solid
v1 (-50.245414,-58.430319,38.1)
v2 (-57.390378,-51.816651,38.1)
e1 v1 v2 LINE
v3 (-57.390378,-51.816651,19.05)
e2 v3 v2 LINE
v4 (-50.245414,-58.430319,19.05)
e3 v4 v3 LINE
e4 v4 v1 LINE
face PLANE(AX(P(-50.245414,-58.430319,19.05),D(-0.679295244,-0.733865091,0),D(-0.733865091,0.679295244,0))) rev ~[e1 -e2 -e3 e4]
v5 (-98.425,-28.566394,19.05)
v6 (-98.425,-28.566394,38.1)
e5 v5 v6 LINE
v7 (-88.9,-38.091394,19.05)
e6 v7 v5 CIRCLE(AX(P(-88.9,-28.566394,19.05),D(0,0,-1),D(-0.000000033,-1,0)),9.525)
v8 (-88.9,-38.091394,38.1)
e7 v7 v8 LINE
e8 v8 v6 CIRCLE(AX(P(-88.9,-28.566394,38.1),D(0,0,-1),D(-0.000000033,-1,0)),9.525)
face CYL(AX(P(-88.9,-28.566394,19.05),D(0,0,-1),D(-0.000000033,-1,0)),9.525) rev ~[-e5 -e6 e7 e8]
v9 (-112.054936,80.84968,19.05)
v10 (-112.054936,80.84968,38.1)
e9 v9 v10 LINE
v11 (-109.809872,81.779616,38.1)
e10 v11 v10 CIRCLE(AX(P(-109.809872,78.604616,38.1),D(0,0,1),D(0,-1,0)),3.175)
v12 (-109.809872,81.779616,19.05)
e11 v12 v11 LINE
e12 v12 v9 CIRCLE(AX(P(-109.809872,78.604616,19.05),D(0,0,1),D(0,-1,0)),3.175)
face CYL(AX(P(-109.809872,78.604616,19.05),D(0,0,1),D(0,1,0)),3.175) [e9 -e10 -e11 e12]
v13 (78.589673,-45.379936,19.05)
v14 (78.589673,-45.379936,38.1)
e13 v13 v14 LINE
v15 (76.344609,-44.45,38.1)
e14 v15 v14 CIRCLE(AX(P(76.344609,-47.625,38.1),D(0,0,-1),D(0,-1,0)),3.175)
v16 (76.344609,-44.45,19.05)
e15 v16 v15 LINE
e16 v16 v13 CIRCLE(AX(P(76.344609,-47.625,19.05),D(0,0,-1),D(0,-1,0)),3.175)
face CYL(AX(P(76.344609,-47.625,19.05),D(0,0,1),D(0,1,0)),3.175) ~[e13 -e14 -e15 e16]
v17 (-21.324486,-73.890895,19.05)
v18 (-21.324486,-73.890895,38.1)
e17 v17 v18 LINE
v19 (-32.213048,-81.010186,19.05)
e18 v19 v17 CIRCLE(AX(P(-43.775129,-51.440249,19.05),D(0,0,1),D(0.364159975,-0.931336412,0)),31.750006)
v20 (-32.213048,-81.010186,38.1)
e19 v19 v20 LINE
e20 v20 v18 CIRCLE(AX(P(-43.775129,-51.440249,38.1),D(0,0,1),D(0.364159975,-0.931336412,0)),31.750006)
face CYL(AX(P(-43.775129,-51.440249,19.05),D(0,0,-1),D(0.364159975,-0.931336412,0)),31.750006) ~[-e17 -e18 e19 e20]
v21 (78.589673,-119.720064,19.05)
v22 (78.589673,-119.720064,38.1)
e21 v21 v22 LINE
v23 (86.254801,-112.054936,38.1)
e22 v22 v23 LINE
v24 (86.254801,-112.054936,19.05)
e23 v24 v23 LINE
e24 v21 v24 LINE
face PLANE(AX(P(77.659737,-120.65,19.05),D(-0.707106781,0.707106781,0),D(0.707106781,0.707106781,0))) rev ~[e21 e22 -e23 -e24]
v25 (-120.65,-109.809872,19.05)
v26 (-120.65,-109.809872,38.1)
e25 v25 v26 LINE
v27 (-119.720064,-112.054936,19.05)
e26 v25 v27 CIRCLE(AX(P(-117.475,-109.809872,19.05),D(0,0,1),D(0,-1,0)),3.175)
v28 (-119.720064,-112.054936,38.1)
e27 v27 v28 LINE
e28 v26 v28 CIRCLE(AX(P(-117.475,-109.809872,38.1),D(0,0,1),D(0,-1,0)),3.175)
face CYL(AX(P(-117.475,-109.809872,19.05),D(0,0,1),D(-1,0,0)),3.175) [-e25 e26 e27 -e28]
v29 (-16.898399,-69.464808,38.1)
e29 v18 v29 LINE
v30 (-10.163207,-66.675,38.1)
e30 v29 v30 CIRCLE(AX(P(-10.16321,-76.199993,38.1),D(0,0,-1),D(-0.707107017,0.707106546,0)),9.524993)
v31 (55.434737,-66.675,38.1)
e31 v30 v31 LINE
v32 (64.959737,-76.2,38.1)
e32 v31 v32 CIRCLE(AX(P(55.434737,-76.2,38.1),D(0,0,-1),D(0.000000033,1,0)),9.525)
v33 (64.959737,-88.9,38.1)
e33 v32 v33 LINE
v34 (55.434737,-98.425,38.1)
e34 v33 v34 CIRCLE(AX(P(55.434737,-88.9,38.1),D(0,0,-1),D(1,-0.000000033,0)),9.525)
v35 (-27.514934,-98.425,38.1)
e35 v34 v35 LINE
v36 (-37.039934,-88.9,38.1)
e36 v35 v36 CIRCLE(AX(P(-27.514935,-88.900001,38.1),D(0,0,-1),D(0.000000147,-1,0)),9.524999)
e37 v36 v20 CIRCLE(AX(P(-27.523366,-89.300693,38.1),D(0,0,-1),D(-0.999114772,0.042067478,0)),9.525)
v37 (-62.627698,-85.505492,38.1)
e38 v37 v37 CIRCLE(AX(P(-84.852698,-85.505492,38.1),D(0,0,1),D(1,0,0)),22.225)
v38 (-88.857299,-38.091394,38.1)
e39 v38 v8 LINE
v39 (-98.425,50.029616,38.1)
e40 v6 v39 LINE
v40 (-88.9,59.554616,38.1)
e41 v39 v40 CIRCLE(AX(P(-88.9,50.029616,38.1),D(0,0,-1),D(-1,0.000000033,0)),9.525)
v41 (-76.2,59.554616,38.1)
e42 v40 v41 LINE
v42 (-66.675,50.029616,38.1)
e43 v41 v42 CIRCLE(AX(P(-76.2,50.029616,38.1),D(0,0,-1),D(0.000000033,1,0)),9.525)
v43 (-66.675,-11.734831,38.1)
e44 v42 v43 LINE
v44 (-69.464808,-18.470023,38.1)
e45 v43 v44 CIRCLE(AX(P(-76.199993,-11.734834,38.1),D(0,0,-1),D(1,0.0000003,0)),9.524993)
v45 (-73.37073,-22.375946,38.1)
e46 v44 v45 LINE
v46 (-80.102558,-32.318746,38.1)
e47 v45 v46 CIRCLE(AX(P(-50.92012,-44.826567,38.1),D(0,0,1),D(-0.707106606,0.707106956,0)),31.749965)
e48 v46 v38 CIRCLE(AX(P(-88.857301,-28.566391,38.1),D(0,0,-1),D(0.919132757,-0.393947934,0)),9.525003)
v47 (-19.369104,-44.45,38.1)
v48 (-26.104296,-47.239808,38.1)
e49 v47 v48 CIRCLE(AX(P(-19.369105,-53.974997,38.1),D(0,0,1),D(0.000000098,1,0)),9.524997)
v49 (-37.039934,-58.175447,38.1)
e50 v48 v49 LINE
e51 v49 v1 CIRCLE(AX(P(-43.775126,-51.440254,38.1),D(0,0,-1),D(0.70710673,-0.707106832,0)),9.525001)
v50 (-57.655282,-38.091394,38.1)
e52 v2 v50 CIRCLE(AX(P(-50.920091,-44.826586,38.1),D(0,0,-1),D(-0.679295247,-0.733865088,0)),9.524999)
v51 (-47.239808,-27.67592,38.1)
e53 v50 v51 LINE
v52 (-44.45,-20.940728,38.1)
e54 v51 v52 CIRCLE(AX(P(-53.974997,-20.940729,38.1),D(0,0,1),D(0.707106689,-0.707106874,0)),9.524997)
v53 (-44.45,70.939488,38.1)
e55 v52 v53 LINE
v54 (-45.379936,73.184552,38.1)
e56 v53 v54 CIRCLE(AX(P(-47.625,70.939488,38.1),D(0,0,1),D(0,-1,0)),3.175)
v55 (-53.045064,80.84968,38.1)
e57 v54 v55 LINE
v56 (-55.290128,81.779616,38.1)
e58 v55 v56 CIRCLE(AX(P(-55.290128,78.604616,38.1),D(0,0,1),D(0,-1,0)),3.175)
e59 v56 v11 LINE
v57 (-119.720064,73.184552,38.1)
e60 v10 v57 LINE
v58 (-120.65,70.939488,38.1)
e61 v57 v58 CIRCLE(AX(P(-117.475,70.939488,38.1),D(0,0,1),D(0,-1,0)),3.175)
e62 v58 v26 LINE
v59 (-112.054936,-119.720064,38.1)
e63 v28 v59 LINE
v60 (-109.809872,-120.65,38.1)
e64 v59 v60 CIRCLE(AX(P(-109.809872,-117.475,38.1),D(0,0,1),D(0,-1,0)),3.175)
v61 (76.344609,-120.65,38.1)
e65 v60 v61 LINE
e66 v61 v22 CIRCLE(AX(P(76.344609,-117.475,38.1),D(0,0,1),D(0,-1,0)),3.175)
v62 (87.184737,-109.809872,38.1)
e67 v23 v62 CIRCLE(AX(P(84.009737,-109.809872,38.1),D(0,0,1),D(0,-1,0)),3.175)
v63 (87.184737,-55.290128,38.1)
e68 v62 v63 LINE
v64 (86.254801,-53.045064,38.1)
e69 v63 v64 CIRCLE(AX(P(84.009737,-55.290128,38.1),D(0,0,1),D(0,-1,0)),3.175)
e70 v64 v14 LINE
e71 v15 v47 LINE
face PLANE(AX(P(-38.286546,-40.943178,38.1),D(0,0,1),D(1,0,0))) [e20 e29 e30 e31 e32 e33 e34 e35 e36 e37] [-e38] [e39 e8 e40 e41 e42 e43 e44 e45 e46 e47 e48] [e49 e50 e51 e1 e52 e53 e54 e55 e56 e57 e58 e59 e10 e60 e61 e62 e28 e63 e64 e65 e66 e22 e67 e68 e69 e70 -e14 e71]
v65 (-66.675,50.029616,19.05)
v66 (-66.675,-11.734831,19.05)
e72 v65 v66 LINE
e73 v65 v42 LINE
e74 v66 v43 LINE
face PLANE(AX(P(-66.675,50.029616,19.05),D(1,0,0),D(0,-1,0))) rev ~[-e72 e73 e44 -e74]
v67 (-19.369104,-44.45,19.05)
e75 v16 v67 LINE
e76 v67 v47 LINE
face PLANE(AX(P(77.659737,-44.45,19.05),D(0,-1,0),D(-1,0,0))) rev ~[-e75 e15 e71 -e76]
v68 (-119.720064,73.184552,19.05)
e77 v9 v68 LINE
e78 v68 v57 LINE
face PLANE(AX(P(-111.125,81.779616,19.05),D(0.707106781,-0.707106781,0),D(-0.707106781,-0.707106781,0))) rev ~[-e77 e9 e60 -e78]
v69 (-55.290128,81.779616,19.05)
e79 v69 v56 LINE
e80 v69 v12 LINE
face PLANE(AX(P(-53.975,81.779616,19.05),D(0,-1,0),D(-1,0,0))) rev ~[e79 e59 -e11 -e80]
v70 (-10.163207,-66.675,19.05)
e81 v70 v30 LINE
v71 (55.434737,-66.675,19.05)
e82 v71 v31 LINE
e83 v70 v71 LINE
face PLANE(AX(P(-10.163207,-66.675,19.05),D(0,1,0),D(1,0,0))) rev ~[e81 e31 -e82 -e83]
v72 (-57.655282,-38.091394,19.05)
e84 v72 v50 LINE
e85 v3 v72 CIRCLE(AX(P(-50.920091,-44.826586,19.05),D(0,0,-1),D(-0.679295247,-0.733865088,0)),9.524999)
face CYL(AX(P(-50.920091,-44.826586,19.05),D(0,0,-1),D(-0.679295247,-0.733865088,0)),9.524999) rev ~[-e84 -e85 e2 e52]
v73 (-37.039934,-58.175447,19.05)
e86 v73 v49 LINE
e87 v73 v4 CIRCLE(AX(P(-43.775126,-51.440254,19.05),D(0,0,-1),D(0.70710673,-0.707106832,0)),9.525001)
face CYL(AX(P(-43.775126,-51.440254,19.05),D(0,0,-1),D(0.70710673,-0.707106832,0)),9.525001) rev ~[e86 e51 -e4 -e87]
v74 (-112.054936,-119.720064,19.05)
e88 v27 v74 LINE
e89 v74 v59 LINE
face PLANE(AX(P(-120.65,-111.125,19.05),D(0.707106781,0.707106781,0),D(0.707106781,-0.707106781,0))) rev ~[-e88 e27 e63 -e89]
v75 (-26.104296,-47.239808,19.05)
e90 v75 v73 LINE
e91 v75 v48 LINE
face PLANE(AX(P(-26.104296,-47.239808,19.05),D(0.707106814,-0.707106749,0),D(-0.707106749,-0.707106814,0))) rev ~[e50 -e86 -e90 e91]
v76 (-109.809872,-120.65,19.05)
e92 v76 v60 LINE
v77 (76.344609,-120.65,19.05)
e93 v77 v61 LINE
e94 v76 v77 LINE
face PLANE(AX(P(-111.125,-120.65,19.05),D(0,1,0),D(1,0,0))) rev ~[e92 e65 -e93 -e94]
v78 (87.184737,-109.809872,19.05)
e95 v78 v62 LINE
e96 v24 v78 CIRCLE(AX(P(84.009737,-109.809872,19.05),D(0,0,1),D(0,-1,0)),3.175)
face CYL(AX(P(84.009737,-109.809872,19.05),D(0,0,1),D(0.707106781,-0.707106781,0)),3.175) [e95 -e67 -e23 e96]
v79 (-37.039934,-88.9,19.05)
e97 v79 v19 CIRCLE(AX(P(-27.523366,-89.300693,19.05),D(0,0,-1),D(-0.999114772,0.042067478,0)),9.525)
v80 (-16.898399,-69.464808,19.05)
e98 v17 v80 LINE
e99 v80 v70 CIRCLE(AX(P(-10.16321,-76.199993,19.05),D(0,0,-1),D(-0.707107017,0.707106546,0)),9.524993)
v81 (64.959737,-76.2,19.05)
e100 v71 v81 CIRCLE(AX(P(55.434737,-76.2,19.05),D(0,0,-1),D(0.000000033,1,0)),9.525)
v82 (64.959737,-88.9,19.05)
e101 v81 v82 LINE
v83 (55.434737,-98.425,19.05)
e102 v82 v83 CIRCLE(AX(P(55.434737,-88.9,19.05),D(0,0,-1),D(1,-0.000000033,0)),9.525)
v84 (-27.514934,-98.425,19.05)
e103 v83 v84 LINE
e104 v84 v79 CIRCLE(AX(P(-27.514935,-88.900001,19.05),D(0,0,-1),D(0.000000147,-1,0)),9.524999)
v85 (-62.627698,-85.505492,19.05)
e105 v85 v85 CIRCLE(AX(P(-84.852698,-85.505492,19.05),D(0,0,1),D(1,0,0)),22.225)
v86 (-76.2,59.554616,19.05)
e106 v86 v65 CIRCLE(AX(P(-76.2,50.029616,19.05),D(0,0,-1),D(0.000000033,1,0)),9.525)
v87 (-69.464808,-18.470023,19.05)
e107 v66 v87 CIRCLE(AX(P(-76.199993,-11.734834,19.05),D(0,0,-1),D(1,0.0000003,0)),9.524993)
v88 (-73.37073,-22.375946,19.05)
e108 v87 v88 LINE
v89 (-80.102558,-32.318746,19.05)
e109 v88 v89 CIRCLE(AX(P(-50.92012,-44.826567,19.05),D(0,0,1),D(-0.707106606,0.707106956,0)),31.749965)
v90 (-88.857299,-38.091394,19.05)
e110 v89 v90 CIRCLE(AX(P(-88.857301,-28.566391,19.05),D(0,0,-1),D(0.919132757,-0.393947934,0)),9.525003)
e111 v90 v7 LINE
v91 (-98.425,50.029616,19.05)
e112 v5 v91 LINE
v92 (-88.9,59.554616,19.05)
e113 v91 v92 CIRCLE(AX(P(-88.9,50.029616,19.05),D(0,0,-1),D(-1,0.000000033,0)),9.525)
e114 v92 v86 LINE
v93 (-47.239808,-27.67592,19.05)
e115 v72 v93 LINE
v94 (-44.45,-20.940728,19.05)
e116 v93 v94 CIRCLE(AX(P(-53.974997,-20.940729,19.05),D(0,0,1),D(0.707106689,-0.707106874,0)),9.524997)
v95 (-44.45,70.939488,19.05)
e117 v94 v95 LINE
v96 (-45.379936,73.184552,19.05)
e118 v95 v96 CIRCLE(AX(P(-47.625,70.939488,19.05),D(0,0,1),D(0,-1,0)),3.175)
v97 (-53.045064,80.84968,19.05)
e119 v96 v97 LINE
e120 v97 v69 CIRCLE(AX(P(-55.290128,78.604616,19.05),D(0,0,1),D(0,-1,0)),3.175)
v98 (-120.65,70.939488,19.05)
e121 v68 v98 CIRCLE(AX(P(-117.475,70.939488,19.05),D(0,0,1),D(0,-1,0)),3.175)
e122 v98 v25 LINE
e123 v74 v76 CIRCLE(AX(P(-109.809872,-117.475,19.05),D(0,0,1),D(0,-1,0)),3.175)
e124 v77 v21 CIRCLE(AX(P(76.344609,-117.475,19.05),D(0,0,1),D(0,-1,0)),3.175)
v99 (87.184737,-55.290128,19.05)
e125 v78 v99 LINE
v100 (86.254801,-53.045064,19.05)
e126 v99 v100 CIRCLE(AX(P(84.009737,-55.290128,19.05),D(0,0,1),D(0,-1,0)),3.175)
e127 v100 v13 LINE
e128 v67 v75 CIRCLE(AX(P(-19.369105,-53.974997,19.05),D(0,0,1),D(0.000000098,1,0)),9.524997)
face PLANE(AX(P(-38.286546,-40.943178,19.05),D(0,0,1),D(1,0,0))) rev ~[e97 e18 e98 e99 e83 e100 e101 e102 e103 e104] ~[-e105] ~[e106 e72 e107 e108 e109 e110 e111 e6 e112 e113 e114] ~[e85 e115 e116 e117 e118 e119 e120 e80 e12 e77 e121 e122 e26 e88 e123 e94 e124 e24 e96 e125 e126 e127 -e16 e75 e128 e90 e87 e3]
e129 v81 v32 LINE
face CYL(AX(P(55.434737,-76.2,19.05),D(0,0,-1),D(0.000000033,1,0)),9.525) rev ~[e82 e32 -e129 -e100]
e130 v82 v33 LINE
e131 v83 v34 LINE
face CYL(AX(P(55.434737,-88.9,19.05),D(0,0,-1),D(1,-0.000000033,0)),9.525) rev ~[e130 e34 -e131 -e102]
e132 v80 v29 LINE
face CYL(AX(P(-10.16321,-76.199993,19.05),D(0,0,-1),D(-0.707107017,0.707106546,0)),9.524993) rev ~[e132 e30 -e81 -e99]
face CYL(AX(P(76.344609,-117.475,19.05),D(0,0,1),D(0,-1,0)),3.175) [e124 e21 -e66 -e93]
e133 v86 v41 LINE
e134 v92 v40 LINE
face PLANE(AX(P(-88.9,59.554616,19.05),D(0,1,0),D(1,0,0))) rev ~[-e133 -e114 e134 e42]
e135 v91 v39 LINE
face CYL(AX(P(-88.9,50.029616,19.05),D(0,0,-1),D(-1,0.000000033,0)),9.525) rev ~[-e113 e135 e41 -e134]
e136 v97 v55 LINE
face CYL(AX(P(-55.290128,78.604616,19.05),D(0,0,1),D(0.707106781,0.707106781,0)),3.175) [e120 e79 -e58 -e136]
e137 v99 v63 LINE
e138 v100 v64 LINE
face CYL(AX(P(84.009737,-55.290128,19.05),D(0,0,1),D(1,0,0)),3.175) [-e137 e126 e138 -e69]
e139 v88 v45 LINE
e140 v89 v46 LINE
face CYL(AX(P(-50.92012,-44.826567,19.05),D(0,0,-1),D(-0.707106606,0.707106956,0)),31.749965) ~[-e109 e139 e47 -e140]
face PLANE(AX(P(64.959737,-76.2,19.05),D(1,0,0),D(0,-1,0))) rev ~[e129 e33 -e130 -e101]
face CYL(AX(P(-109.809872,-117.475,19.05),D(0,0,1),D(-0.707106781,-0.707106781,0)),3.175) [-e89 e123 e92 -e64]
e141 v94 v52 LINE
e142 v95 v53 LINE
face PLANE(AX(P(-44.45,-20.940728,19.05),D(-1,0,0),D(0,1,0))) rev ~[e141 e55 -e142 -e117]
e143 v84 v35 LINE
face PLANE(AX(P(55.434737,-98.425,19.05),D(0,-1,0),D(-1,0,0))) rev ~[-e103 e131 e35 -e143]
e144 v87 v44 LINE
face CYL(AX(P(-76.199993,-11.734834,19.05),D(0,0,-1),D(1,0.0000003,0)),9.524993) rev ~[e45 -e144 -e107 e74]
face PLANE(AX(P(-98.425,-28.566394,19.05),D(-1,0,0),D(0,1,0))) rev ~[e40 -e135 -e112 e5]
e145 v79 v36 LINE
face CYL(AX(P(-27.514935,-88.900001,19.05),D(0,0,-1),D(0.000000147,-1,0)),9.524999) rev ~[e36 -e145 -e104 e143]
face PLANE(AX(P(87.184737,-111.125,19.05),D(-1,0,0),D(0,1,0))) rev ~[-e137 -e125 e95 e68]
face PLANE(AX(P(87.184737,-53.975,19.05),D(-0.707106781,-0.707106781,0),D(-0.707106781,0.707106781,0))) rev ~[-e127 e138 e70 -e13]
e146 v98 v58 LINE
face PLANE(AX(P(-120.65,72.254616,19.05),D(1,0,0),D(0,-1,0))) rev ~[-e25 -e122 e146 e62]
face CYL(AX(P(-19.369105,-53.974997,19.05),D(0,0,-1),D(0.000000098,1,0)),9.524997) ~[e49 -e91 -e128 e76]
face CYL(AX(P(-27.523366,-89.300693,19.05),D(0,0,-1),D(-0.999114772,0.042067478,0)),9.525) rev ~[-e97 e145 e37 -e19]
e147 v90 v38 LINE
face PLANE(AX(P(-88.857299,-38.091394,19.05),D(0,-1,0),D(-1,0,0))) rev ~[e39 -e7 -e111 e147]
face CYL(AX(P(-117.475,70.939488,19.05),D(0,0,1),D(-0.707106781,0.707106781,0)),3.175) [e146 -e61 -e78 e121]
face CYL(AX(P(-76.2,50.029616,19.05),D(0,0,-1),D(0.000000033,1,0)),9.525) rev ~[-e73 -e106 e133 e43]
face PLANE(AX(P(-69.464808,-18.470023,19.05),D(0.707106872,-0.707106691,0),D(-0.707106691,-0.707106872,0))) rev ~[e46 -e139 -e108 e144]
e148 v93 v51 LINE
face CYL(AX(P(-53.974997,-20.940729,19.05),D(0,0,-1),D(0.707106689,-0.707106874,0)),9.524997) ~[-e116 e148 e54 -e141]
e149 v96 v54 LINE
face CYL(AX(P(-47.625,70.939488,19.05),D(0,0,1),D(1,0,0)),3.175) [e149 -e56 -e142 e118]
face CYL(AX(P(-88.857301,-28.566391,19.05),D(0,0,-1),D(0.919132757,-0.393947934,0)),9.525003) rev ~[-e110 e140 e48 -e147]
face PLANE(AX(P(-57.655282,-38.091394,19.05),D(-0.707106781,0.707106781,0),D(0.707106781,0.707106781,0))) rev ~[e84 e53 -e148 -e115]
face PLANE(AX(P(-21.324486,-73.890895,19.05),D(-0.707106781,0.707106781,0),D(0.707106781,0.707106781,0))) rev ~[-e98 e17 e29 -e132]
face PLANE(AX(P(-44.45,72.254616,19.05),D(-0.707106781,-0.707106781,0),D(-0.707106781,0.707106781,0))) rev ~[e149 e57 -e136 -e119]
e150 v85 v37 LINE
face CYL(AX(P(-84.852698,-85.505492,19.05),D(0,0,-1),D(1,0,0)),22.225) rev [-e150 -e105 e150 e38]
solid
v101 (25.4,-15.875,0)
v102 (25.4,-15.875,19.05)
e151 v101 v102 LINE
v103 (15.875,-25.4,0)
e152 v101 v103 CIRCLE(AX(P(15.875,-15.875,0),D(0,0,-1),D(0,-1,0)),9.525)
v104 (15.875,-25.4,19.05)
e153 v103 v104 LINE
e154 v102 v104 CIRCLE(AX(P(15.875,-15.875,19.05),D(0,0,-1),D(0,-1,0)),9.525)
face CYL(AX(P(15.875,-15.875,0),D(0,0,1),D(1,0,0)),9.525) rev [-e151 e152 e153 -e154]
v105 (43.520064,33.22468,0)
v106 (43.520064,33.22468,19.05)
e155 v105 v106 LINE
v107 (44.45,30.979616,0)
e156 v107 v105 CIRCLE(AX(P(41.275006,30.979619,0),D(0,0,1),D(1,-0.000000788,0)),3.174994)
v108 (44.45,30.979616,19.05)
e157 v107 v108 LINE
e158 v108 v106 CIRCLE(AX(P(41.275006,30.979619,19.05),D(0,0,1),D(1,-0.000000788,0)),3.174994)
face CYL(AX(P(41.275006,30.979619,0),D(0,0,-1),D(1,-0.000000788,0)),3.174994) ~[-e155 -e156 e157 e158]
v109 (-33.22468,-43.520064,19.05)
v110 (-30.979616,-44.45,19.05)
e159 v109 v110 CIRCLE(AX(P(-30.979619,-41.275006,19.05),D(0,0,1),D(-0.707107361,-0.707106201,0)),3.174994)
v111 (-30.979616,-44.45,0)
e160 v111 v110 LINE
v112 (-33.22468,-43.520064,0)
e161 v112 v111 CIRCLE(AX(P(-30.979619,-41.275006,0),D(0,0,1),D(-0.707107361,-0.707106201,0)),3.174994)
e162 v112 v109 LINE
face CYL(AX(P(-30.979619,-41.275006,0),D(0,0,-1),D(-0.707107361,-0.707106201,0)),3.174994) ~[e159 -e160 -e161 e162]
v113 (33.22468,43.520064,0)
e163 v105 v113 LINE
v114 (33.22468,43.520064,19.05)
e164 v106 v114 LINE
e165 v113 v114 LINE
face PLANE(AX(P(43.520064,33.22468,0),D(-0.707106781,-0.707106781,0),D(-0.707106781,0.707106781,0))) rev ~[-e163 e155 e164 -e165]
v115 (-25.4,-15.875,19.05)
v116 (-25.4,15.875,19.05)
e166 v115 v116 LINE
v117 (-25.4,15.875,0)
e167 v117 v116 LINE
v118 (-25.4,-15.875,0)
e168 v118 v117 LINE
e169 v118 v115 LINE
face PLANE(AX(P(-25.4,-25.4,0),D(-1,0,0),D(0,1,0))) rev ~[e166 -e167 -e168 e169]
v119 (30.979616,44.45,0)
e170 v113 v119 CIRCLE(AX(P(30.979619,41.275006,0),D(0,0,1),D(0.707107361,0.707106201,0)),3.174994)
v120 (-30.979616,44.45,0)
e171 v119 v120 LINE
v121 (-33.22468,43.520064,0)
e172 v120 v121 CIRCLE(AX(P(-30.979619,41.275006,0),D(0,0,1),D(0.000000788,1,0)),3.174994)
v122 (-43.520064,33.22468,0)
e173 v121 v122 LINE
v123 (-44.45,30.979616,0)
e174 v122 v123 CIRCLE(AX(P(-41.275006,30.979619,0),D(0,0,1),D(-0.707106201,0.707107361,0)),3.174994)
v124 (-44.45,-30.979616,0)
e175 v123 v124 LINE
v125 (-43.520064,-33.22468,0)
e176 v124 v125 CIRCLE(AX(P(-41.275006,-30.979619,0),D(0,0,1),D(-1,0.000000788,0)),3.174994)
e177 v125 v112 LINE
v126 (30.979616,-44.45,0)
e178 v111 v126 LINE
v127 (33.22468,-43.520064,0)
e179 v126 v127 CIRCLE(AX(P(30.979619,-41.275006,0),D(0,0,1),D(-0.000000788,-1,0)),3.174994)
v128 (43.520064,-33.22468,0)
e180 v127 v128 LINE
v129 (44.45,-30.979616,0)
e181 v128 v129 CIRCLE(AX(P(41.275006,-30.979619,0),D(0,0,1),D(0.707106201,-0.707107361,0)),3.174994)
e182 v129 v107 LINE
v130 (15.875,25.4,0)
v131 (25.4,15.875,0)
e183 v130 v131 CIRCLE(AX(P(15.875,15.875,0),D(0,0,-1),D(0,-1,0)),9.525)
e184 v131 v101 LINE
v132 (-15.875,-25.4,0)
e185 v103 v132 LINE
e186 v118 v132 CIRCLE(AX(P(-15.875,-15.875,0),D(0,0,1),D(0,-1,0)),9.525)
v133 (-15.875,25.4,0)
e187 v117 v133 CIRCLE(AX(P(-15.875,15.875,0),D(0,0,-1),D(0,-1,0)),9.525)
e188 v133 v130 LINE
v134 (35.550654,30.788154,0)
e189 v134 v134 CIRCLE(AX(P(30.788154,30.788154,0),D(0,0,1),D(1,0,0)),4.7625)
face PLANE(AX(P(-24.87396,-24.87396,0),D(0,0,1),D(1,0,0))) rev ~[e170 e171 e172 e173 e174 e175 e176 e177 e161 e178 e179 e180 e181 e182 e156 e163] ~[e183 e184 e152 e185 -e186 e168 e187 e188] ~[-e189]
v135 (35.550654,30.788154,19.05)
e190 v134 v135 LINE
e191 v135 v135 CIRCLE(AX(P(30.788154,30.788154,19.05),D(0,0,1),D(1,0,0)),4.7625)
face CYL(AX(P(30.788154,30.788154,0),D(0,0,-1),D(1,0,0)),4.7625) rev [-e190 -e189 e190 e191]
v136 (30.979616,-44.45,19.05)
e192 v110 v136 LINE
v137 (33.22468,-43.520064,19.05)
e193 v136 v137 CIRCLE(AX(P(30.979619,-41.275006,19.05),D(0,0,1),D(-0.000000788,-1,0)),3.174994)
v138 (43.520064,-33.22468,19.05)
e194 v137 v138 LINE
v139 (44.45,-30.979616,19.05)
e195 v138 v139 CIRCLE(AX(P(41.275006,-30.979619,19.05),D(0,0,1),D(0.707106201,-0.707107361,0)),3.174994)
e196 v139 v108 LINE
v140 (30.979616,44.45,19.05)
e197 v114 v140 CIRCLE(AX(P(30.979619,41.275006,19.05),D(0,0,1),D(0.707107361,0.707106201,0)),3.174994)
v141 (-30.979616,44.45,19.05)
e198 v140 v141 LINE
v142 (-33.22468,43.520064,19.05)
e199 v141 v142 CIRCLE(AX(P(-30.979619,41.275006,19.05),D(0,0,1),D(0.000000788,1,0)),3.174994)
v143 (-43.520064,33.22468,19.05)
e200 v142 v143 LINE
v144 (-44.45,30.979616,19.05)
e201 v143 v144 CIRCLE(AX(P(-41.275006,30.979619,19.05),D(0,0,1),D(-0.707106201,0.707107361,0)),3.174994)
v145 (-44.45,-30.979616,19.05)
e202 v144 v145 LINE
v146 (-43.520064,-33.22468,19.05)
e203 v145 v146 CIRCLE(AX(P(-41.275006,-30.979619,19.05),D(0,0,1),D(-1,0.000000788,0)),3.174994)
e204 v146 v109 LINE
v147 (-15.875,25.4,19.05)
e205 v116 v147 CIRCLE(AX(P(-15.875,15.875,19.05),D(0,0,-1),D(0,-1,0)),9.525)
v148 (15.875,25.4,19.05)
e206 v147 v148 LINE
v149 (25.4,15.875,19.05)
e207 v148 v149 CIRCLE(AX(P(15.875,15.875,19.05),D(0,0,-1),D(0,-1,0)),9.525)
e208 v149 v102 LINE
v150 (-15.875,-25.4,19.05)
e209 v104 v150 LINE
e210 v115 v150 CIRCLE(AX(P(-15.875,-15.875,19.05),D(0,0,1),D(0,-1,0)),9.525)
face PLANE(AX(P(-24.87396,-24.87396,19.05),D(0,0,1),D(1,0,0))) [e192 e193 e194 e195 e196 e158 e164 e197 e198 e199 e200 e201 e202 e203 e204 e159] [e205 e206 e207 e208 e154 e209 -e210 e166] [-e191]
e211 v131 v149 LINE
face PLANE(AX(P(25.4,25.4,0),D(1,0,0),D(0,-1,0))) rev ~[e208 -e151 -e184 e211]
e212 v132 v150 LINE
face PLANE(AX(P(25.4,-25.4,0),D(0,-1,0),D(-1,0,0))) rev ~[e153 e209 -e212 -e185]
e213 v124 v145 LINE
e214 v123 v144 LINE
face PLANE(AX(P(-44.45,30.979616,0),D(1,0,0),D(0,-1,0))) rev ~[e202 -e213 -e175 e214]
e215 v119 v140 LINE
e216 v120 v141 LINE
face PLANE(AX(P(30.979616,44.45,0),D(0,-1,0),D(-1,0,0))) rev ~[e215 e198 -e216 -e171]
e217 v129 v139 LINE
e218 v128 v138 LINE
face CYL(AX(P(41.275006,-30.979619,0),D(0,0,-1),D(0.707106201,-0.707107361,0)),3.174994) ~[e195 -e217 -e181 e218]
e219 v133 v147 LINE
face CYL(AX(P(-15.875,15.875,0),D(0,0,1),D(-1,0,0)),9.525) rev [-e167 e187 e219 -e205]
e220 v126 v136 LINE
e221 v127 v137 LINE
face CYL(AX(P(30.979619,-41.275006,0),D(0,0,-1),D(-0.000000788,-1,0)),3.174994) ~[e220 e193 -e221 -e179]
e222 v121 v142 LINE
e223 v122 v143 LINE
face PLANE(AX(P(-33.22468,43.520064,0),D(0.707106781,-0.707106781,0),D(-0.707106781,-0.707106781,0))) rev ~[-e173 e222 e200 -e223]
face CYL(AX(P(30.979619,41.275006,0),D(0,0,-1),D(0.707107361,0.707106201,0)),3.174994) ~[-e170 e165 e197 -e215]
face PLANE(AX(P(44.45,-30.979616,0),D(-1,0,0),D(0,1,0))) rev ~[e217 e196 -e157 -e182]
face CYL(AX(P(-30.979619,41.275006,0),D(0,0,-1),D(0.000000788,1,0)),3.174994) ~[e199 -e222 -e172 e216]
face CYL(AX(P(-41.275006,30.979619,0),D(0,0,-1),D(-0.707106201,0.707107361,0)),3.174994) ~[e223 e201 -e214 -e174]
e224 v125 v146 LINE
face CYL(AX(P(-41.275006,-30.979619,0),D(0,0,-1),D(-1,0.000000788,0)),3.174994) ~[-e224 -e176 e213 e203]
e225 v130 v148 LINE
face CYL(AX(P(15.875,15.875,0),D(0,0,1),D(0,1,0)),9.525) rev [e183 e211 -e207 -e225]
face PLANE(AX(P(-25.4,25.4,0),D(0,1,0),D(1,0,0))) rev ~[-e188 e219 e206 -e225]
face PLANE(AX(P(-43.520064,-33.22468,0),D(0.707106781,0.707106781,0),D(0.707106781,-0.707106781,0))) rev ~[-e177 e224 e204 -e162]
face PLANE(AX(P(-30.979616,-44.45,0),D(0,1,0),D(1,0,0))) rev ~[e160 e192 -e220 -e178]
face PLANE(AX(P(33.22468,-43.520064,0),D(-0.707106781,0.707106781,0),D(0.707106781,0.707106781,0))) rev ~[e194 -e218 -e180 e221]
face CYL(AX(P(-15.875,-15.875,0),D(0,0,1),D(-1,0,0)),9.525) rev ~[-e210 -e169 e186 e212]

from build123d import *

# Parameters (mm, degrees)
F0_R     = 4.7625
F1_DEPTH = 19.05
F2_R     = 9.525
F3_R     = 22.225
F4_DEPTH = 19.05
F5_R     = 3.175


with BuildPart() as f1:
    # F0 (on Top) → F1 (new body)
    with BuildSketch(Plane.XY):
        with BuildLine():
            ThreePointArc((-33.22468, -43.520064), (-32.194636, -44.208318), (-30.979616, -44.45))
            Line((-30.979616, -44.45), (0, -44.45))
            Line((0, -44.45), (0, -25.4))
            Line((0, -25.4), (-25.4, -25.4))
            Line((-25.4, -25.4), (-25.4, 0))
            Line((-25.4, 0), (-44.45, 0))
            Line((-44.45, 0), (-44.45, -30.979616))
            ThreePointArc((-44.45, -30.979616), (-44.208318, -32.194636), (-43.520064, -33.22468))
            Line((-43.520064, -33.22468), (-33.22468, -43.520064))
        make_face()
        with BuildLine():
            Line((-44.45, 0), (-25.4, 0))
            Line((-25.4, 0), (-25.4, 25.4))
            Line((-25.4, 25.4), (0, 25.4))
            Line((0, 25.4), (0, 44.45))
            Line((0, 44.45), (-30.979616, 44.45))
            ThreePointArc((-30.979616, 44.45), (-32.194636, 44.208318), (-33.22468, 43.520064))
            Line((-33.22468, 43.520064), (-43.520064, 33.22468))
            ThreePointArc((-43.520064, 33.22468), (-44.208318, 32.194636), (-44.45, 30.979616))
            Line((-44.45, 30.979616), (-44.45, 0))
        make_face()
        with BuildLine():
            Line((25.4, 25.4), (25.4, 0))
            Line((25.4, 0), (44.45, 0))
            Line((44.45, 0), (44.45, 30.979616))
            ThreePointArc((44.45, 30.979616), (44.208318, 32.194636), (43.520064, 33.22468))
            Line((43.520064, 33.22468), (33.22468, 43.520064))
            ThreePointArc((33.22468, 43.520064), (32.194636, 44.208318), (30.979616, 44.45))
            Line((30.979616, 44.45), (0, 44.45))
            Line((0, 44.45), (0, 25.4))
            Line((0, 25.4), (25.4, 25.4))
        make_face()
        with Locations((30.788154, 30.788154)):
            Circle(F0_R, mode=Mode.SUBTRACT)
        with BuildLine():
            Line((0, -25.4), (0, -44.45))
            Line((0, -44.45), (30.979616, -44.45))
            ThreePointArc((30.979616, -44.45), (32.194636, -44.208318), (33.22468, -43.520064))
            Line((33.22468, -43.520064), (43.520064, -33.22468))
            ThreePointArc((43.520064, -33.22468), (44.208318, -32.194636), (44.45, -30.979616))
            Line((44.45, -30.979616), (44.45, 0))
            Line((44.45, 0), (25.4, 0))
            Line((25.4, 0), (25.4, -25.4))
            Line((25.4, -25.4), (0, -25.4))
        make_face()
    extrude(amount=F1_DEPTH)

    # F2
    f2_edges = [f1.edges().sort_by_distance(p)[0] for p in [
        (-25.4, 25.4, 9.525),
        (25.4, 25.4, 9.525),
        (25.4, -25.4, 9.525),
        (-25.4, -25.4, 9.525),
    ]]
    fillet(f2_edges, radius=F2_R)


with BuildPart() as f4:
    # F3 (on face) → F4 (new body)
    with BuildSketch(Plane.XY.offset(19.05)):
        with BuildLine():
            Line((-44.45, -20.940728), (-44.45, 30.979616))
            Line((-44.45, 30.979616), (-44.45, 72.254616))
            Line((-44.45, 72.254616), (-53.975, 81.779616))
            Line((-53.975, 81.779616), (-111.125, 81.779616))
            Line((-111.125, 81.779616), (-120.65, 72.254616))
            Line((-120.65, 72.254616), (-120.65, 30.979616))
            Line((-120.65, 30.979616), (-120.65, -111.125))
            Line((-120.65, -111.125), (-111.125, -120.65))
            Line((-111.125, -120.65), (30.979616, -120.65))
            Line((30.979616, -120.65), (77.659737, -120.65))
            Line((77.659737, -120.65), (87.184737, -111.125))
            Line((87.184737, -111.125), (87.184737, -53.975))
            Line((87.184737, -53.975), (77.659737, -44.45))
            Line((77.659737, -44.45), (30.979616, -44.45))
            Line((30.979616, -44.45), (21.454616, -44.45))
            Line((21.454616, -44.45), (-19.369104, -44.45))
            ThreePointArc((-19.369104, -44.45), (-23.014163, -45.175047), (-26.104296, -47.239808))
            Line((-26.104296, -47.239808), (-37.039934, -58.175447))
            ThreePointArc((-37.039934, -58.175447), (-43.591323, -60.963481), (-50.245414, -58.430319))
            Line((-50.245414, -58.430319), (-57.390378, -51.816651))
            ThreePointArc((-57.390378, -51.816651), (-60.443317, -45.010389), (-57.655282, -38.091394))
            Line((-57.655282, -38.091394), (-47.239808, -27.67592))
            ThreePointArc((-47.239808, -27.67592), (-45.175047, -24.585787), (-44.45, -20.940728))
        make_face()
        with Locations((-84.852698, -85.505492)):
            Circle(F3_R, mode=Mode.SUBTRACT)
        with BuildLine():
            Line((21.454616, -66.675), (30.979616, -66.675))
            Line((30.979616, -66.675), (55.434737, -66.675))
            ThreePointArc((55.434737, -66.675), (62.169929, -69.464808), (64.959737, -76.2))
            Line((64.959737, -76.2), (64.959737, -88.9))
            ThreePointArc((64.959737, -88.9), (62.169929, -95.635192), (55.434737, -98.425))
            Line((55.434737, -98.425), (30.979616, -98.425))
            Line((30.979616, -98.425), (-27.514934, -98.425))
            ThreePointArc((-27.514934, -98.425), (-34.250127, -95.635192), (-37.039934, -88.9))
            ThreePointArc((-37.039934, -88.9), (-35.648431, -84.329884), (-32.213048, -81.010186))
            ThreePointArc((-32.213048, -81.010186), (-26.400221, -78.014211), (-21.324486, -73.890895))
            Line((-21.324486, -73.890895), (-16.898399, -69.464808))
            ThreePointArc((-16.898399, -69.464808), (-13.808267, -67.400047), (-10.163207, -66.675))
            Line((-10.163207, -66.675), (21.454616, -66.675))
        make_face(mode=Mode.SUBTRACT)
        with BuildLine():
            Line((-98.425, 30.979616), (-98.425, 50.029616))
            ThreePointArc((-98.425, 50.029616), (-95.635192, 56.764808), (-88.9, 59.554616))
            Line((-88.9, 59.554616), (-76.2, 59.554616))
            ThreePointArc((-76.2, 59.554616), (-69.464808, 56.764808), (-66.675, 50.029616))
            Line((-66.675, 50.029616), (-66.675, 30.979616))
            Line((-66.675, 30.979616), (-66.675, -11.734831))
            ThreePointArc((-66.675, -11.734831), (-67.400047, -15.379891), (-69.464808, -18.470023))
            Line((-69.464808, -18.470023), (-73.37073, -22.375946))
            ThreePointArc((-73.37073, -22.375946), (-77.21095, -27.026215), (-80.102558, -32.318746))
            ThreePointArc((-80.102558, -32.318746), (-83.613995, -36.518336), (-88.857299, -38.091394))
            Line((-88.857299, -38.091394), (-88.9, -38.091394))
            ThreePointArc((-88.9, -38.091394), (-95.635192, -35.301586), (-98.425, -28.566394))
            Line((-98.425, -28.566394), (-98.425, 30.979616))
        make_face(mode=Mode.SUBTRACT)
    extrude(amount=F4_DEPTH)

    # F5
    f5_edges = [f4.edges().sort_by_distance(p)[0] for p in [
        (-111.125, 81.779616, 28.575),
        (-53.975, 81.779616, 28.575),
        (-44.45, 72.254616, 28.575),
        (77.659737, -44.45, 28.575),
        (87.184737, -53.975, 28.575),
        (87.184737, -111.125, 28.575),
        (77.659737, -120.65, 28.575),
        (-120.65, 72.254616, 28.575),
        (-120.65, -111.125, 28.575),
        (-111.125, -120.65, 28.575),
    ]]
    fillet(f5_edges, radius=F5_R)


solid = Compound([f1.part, f4.part])
